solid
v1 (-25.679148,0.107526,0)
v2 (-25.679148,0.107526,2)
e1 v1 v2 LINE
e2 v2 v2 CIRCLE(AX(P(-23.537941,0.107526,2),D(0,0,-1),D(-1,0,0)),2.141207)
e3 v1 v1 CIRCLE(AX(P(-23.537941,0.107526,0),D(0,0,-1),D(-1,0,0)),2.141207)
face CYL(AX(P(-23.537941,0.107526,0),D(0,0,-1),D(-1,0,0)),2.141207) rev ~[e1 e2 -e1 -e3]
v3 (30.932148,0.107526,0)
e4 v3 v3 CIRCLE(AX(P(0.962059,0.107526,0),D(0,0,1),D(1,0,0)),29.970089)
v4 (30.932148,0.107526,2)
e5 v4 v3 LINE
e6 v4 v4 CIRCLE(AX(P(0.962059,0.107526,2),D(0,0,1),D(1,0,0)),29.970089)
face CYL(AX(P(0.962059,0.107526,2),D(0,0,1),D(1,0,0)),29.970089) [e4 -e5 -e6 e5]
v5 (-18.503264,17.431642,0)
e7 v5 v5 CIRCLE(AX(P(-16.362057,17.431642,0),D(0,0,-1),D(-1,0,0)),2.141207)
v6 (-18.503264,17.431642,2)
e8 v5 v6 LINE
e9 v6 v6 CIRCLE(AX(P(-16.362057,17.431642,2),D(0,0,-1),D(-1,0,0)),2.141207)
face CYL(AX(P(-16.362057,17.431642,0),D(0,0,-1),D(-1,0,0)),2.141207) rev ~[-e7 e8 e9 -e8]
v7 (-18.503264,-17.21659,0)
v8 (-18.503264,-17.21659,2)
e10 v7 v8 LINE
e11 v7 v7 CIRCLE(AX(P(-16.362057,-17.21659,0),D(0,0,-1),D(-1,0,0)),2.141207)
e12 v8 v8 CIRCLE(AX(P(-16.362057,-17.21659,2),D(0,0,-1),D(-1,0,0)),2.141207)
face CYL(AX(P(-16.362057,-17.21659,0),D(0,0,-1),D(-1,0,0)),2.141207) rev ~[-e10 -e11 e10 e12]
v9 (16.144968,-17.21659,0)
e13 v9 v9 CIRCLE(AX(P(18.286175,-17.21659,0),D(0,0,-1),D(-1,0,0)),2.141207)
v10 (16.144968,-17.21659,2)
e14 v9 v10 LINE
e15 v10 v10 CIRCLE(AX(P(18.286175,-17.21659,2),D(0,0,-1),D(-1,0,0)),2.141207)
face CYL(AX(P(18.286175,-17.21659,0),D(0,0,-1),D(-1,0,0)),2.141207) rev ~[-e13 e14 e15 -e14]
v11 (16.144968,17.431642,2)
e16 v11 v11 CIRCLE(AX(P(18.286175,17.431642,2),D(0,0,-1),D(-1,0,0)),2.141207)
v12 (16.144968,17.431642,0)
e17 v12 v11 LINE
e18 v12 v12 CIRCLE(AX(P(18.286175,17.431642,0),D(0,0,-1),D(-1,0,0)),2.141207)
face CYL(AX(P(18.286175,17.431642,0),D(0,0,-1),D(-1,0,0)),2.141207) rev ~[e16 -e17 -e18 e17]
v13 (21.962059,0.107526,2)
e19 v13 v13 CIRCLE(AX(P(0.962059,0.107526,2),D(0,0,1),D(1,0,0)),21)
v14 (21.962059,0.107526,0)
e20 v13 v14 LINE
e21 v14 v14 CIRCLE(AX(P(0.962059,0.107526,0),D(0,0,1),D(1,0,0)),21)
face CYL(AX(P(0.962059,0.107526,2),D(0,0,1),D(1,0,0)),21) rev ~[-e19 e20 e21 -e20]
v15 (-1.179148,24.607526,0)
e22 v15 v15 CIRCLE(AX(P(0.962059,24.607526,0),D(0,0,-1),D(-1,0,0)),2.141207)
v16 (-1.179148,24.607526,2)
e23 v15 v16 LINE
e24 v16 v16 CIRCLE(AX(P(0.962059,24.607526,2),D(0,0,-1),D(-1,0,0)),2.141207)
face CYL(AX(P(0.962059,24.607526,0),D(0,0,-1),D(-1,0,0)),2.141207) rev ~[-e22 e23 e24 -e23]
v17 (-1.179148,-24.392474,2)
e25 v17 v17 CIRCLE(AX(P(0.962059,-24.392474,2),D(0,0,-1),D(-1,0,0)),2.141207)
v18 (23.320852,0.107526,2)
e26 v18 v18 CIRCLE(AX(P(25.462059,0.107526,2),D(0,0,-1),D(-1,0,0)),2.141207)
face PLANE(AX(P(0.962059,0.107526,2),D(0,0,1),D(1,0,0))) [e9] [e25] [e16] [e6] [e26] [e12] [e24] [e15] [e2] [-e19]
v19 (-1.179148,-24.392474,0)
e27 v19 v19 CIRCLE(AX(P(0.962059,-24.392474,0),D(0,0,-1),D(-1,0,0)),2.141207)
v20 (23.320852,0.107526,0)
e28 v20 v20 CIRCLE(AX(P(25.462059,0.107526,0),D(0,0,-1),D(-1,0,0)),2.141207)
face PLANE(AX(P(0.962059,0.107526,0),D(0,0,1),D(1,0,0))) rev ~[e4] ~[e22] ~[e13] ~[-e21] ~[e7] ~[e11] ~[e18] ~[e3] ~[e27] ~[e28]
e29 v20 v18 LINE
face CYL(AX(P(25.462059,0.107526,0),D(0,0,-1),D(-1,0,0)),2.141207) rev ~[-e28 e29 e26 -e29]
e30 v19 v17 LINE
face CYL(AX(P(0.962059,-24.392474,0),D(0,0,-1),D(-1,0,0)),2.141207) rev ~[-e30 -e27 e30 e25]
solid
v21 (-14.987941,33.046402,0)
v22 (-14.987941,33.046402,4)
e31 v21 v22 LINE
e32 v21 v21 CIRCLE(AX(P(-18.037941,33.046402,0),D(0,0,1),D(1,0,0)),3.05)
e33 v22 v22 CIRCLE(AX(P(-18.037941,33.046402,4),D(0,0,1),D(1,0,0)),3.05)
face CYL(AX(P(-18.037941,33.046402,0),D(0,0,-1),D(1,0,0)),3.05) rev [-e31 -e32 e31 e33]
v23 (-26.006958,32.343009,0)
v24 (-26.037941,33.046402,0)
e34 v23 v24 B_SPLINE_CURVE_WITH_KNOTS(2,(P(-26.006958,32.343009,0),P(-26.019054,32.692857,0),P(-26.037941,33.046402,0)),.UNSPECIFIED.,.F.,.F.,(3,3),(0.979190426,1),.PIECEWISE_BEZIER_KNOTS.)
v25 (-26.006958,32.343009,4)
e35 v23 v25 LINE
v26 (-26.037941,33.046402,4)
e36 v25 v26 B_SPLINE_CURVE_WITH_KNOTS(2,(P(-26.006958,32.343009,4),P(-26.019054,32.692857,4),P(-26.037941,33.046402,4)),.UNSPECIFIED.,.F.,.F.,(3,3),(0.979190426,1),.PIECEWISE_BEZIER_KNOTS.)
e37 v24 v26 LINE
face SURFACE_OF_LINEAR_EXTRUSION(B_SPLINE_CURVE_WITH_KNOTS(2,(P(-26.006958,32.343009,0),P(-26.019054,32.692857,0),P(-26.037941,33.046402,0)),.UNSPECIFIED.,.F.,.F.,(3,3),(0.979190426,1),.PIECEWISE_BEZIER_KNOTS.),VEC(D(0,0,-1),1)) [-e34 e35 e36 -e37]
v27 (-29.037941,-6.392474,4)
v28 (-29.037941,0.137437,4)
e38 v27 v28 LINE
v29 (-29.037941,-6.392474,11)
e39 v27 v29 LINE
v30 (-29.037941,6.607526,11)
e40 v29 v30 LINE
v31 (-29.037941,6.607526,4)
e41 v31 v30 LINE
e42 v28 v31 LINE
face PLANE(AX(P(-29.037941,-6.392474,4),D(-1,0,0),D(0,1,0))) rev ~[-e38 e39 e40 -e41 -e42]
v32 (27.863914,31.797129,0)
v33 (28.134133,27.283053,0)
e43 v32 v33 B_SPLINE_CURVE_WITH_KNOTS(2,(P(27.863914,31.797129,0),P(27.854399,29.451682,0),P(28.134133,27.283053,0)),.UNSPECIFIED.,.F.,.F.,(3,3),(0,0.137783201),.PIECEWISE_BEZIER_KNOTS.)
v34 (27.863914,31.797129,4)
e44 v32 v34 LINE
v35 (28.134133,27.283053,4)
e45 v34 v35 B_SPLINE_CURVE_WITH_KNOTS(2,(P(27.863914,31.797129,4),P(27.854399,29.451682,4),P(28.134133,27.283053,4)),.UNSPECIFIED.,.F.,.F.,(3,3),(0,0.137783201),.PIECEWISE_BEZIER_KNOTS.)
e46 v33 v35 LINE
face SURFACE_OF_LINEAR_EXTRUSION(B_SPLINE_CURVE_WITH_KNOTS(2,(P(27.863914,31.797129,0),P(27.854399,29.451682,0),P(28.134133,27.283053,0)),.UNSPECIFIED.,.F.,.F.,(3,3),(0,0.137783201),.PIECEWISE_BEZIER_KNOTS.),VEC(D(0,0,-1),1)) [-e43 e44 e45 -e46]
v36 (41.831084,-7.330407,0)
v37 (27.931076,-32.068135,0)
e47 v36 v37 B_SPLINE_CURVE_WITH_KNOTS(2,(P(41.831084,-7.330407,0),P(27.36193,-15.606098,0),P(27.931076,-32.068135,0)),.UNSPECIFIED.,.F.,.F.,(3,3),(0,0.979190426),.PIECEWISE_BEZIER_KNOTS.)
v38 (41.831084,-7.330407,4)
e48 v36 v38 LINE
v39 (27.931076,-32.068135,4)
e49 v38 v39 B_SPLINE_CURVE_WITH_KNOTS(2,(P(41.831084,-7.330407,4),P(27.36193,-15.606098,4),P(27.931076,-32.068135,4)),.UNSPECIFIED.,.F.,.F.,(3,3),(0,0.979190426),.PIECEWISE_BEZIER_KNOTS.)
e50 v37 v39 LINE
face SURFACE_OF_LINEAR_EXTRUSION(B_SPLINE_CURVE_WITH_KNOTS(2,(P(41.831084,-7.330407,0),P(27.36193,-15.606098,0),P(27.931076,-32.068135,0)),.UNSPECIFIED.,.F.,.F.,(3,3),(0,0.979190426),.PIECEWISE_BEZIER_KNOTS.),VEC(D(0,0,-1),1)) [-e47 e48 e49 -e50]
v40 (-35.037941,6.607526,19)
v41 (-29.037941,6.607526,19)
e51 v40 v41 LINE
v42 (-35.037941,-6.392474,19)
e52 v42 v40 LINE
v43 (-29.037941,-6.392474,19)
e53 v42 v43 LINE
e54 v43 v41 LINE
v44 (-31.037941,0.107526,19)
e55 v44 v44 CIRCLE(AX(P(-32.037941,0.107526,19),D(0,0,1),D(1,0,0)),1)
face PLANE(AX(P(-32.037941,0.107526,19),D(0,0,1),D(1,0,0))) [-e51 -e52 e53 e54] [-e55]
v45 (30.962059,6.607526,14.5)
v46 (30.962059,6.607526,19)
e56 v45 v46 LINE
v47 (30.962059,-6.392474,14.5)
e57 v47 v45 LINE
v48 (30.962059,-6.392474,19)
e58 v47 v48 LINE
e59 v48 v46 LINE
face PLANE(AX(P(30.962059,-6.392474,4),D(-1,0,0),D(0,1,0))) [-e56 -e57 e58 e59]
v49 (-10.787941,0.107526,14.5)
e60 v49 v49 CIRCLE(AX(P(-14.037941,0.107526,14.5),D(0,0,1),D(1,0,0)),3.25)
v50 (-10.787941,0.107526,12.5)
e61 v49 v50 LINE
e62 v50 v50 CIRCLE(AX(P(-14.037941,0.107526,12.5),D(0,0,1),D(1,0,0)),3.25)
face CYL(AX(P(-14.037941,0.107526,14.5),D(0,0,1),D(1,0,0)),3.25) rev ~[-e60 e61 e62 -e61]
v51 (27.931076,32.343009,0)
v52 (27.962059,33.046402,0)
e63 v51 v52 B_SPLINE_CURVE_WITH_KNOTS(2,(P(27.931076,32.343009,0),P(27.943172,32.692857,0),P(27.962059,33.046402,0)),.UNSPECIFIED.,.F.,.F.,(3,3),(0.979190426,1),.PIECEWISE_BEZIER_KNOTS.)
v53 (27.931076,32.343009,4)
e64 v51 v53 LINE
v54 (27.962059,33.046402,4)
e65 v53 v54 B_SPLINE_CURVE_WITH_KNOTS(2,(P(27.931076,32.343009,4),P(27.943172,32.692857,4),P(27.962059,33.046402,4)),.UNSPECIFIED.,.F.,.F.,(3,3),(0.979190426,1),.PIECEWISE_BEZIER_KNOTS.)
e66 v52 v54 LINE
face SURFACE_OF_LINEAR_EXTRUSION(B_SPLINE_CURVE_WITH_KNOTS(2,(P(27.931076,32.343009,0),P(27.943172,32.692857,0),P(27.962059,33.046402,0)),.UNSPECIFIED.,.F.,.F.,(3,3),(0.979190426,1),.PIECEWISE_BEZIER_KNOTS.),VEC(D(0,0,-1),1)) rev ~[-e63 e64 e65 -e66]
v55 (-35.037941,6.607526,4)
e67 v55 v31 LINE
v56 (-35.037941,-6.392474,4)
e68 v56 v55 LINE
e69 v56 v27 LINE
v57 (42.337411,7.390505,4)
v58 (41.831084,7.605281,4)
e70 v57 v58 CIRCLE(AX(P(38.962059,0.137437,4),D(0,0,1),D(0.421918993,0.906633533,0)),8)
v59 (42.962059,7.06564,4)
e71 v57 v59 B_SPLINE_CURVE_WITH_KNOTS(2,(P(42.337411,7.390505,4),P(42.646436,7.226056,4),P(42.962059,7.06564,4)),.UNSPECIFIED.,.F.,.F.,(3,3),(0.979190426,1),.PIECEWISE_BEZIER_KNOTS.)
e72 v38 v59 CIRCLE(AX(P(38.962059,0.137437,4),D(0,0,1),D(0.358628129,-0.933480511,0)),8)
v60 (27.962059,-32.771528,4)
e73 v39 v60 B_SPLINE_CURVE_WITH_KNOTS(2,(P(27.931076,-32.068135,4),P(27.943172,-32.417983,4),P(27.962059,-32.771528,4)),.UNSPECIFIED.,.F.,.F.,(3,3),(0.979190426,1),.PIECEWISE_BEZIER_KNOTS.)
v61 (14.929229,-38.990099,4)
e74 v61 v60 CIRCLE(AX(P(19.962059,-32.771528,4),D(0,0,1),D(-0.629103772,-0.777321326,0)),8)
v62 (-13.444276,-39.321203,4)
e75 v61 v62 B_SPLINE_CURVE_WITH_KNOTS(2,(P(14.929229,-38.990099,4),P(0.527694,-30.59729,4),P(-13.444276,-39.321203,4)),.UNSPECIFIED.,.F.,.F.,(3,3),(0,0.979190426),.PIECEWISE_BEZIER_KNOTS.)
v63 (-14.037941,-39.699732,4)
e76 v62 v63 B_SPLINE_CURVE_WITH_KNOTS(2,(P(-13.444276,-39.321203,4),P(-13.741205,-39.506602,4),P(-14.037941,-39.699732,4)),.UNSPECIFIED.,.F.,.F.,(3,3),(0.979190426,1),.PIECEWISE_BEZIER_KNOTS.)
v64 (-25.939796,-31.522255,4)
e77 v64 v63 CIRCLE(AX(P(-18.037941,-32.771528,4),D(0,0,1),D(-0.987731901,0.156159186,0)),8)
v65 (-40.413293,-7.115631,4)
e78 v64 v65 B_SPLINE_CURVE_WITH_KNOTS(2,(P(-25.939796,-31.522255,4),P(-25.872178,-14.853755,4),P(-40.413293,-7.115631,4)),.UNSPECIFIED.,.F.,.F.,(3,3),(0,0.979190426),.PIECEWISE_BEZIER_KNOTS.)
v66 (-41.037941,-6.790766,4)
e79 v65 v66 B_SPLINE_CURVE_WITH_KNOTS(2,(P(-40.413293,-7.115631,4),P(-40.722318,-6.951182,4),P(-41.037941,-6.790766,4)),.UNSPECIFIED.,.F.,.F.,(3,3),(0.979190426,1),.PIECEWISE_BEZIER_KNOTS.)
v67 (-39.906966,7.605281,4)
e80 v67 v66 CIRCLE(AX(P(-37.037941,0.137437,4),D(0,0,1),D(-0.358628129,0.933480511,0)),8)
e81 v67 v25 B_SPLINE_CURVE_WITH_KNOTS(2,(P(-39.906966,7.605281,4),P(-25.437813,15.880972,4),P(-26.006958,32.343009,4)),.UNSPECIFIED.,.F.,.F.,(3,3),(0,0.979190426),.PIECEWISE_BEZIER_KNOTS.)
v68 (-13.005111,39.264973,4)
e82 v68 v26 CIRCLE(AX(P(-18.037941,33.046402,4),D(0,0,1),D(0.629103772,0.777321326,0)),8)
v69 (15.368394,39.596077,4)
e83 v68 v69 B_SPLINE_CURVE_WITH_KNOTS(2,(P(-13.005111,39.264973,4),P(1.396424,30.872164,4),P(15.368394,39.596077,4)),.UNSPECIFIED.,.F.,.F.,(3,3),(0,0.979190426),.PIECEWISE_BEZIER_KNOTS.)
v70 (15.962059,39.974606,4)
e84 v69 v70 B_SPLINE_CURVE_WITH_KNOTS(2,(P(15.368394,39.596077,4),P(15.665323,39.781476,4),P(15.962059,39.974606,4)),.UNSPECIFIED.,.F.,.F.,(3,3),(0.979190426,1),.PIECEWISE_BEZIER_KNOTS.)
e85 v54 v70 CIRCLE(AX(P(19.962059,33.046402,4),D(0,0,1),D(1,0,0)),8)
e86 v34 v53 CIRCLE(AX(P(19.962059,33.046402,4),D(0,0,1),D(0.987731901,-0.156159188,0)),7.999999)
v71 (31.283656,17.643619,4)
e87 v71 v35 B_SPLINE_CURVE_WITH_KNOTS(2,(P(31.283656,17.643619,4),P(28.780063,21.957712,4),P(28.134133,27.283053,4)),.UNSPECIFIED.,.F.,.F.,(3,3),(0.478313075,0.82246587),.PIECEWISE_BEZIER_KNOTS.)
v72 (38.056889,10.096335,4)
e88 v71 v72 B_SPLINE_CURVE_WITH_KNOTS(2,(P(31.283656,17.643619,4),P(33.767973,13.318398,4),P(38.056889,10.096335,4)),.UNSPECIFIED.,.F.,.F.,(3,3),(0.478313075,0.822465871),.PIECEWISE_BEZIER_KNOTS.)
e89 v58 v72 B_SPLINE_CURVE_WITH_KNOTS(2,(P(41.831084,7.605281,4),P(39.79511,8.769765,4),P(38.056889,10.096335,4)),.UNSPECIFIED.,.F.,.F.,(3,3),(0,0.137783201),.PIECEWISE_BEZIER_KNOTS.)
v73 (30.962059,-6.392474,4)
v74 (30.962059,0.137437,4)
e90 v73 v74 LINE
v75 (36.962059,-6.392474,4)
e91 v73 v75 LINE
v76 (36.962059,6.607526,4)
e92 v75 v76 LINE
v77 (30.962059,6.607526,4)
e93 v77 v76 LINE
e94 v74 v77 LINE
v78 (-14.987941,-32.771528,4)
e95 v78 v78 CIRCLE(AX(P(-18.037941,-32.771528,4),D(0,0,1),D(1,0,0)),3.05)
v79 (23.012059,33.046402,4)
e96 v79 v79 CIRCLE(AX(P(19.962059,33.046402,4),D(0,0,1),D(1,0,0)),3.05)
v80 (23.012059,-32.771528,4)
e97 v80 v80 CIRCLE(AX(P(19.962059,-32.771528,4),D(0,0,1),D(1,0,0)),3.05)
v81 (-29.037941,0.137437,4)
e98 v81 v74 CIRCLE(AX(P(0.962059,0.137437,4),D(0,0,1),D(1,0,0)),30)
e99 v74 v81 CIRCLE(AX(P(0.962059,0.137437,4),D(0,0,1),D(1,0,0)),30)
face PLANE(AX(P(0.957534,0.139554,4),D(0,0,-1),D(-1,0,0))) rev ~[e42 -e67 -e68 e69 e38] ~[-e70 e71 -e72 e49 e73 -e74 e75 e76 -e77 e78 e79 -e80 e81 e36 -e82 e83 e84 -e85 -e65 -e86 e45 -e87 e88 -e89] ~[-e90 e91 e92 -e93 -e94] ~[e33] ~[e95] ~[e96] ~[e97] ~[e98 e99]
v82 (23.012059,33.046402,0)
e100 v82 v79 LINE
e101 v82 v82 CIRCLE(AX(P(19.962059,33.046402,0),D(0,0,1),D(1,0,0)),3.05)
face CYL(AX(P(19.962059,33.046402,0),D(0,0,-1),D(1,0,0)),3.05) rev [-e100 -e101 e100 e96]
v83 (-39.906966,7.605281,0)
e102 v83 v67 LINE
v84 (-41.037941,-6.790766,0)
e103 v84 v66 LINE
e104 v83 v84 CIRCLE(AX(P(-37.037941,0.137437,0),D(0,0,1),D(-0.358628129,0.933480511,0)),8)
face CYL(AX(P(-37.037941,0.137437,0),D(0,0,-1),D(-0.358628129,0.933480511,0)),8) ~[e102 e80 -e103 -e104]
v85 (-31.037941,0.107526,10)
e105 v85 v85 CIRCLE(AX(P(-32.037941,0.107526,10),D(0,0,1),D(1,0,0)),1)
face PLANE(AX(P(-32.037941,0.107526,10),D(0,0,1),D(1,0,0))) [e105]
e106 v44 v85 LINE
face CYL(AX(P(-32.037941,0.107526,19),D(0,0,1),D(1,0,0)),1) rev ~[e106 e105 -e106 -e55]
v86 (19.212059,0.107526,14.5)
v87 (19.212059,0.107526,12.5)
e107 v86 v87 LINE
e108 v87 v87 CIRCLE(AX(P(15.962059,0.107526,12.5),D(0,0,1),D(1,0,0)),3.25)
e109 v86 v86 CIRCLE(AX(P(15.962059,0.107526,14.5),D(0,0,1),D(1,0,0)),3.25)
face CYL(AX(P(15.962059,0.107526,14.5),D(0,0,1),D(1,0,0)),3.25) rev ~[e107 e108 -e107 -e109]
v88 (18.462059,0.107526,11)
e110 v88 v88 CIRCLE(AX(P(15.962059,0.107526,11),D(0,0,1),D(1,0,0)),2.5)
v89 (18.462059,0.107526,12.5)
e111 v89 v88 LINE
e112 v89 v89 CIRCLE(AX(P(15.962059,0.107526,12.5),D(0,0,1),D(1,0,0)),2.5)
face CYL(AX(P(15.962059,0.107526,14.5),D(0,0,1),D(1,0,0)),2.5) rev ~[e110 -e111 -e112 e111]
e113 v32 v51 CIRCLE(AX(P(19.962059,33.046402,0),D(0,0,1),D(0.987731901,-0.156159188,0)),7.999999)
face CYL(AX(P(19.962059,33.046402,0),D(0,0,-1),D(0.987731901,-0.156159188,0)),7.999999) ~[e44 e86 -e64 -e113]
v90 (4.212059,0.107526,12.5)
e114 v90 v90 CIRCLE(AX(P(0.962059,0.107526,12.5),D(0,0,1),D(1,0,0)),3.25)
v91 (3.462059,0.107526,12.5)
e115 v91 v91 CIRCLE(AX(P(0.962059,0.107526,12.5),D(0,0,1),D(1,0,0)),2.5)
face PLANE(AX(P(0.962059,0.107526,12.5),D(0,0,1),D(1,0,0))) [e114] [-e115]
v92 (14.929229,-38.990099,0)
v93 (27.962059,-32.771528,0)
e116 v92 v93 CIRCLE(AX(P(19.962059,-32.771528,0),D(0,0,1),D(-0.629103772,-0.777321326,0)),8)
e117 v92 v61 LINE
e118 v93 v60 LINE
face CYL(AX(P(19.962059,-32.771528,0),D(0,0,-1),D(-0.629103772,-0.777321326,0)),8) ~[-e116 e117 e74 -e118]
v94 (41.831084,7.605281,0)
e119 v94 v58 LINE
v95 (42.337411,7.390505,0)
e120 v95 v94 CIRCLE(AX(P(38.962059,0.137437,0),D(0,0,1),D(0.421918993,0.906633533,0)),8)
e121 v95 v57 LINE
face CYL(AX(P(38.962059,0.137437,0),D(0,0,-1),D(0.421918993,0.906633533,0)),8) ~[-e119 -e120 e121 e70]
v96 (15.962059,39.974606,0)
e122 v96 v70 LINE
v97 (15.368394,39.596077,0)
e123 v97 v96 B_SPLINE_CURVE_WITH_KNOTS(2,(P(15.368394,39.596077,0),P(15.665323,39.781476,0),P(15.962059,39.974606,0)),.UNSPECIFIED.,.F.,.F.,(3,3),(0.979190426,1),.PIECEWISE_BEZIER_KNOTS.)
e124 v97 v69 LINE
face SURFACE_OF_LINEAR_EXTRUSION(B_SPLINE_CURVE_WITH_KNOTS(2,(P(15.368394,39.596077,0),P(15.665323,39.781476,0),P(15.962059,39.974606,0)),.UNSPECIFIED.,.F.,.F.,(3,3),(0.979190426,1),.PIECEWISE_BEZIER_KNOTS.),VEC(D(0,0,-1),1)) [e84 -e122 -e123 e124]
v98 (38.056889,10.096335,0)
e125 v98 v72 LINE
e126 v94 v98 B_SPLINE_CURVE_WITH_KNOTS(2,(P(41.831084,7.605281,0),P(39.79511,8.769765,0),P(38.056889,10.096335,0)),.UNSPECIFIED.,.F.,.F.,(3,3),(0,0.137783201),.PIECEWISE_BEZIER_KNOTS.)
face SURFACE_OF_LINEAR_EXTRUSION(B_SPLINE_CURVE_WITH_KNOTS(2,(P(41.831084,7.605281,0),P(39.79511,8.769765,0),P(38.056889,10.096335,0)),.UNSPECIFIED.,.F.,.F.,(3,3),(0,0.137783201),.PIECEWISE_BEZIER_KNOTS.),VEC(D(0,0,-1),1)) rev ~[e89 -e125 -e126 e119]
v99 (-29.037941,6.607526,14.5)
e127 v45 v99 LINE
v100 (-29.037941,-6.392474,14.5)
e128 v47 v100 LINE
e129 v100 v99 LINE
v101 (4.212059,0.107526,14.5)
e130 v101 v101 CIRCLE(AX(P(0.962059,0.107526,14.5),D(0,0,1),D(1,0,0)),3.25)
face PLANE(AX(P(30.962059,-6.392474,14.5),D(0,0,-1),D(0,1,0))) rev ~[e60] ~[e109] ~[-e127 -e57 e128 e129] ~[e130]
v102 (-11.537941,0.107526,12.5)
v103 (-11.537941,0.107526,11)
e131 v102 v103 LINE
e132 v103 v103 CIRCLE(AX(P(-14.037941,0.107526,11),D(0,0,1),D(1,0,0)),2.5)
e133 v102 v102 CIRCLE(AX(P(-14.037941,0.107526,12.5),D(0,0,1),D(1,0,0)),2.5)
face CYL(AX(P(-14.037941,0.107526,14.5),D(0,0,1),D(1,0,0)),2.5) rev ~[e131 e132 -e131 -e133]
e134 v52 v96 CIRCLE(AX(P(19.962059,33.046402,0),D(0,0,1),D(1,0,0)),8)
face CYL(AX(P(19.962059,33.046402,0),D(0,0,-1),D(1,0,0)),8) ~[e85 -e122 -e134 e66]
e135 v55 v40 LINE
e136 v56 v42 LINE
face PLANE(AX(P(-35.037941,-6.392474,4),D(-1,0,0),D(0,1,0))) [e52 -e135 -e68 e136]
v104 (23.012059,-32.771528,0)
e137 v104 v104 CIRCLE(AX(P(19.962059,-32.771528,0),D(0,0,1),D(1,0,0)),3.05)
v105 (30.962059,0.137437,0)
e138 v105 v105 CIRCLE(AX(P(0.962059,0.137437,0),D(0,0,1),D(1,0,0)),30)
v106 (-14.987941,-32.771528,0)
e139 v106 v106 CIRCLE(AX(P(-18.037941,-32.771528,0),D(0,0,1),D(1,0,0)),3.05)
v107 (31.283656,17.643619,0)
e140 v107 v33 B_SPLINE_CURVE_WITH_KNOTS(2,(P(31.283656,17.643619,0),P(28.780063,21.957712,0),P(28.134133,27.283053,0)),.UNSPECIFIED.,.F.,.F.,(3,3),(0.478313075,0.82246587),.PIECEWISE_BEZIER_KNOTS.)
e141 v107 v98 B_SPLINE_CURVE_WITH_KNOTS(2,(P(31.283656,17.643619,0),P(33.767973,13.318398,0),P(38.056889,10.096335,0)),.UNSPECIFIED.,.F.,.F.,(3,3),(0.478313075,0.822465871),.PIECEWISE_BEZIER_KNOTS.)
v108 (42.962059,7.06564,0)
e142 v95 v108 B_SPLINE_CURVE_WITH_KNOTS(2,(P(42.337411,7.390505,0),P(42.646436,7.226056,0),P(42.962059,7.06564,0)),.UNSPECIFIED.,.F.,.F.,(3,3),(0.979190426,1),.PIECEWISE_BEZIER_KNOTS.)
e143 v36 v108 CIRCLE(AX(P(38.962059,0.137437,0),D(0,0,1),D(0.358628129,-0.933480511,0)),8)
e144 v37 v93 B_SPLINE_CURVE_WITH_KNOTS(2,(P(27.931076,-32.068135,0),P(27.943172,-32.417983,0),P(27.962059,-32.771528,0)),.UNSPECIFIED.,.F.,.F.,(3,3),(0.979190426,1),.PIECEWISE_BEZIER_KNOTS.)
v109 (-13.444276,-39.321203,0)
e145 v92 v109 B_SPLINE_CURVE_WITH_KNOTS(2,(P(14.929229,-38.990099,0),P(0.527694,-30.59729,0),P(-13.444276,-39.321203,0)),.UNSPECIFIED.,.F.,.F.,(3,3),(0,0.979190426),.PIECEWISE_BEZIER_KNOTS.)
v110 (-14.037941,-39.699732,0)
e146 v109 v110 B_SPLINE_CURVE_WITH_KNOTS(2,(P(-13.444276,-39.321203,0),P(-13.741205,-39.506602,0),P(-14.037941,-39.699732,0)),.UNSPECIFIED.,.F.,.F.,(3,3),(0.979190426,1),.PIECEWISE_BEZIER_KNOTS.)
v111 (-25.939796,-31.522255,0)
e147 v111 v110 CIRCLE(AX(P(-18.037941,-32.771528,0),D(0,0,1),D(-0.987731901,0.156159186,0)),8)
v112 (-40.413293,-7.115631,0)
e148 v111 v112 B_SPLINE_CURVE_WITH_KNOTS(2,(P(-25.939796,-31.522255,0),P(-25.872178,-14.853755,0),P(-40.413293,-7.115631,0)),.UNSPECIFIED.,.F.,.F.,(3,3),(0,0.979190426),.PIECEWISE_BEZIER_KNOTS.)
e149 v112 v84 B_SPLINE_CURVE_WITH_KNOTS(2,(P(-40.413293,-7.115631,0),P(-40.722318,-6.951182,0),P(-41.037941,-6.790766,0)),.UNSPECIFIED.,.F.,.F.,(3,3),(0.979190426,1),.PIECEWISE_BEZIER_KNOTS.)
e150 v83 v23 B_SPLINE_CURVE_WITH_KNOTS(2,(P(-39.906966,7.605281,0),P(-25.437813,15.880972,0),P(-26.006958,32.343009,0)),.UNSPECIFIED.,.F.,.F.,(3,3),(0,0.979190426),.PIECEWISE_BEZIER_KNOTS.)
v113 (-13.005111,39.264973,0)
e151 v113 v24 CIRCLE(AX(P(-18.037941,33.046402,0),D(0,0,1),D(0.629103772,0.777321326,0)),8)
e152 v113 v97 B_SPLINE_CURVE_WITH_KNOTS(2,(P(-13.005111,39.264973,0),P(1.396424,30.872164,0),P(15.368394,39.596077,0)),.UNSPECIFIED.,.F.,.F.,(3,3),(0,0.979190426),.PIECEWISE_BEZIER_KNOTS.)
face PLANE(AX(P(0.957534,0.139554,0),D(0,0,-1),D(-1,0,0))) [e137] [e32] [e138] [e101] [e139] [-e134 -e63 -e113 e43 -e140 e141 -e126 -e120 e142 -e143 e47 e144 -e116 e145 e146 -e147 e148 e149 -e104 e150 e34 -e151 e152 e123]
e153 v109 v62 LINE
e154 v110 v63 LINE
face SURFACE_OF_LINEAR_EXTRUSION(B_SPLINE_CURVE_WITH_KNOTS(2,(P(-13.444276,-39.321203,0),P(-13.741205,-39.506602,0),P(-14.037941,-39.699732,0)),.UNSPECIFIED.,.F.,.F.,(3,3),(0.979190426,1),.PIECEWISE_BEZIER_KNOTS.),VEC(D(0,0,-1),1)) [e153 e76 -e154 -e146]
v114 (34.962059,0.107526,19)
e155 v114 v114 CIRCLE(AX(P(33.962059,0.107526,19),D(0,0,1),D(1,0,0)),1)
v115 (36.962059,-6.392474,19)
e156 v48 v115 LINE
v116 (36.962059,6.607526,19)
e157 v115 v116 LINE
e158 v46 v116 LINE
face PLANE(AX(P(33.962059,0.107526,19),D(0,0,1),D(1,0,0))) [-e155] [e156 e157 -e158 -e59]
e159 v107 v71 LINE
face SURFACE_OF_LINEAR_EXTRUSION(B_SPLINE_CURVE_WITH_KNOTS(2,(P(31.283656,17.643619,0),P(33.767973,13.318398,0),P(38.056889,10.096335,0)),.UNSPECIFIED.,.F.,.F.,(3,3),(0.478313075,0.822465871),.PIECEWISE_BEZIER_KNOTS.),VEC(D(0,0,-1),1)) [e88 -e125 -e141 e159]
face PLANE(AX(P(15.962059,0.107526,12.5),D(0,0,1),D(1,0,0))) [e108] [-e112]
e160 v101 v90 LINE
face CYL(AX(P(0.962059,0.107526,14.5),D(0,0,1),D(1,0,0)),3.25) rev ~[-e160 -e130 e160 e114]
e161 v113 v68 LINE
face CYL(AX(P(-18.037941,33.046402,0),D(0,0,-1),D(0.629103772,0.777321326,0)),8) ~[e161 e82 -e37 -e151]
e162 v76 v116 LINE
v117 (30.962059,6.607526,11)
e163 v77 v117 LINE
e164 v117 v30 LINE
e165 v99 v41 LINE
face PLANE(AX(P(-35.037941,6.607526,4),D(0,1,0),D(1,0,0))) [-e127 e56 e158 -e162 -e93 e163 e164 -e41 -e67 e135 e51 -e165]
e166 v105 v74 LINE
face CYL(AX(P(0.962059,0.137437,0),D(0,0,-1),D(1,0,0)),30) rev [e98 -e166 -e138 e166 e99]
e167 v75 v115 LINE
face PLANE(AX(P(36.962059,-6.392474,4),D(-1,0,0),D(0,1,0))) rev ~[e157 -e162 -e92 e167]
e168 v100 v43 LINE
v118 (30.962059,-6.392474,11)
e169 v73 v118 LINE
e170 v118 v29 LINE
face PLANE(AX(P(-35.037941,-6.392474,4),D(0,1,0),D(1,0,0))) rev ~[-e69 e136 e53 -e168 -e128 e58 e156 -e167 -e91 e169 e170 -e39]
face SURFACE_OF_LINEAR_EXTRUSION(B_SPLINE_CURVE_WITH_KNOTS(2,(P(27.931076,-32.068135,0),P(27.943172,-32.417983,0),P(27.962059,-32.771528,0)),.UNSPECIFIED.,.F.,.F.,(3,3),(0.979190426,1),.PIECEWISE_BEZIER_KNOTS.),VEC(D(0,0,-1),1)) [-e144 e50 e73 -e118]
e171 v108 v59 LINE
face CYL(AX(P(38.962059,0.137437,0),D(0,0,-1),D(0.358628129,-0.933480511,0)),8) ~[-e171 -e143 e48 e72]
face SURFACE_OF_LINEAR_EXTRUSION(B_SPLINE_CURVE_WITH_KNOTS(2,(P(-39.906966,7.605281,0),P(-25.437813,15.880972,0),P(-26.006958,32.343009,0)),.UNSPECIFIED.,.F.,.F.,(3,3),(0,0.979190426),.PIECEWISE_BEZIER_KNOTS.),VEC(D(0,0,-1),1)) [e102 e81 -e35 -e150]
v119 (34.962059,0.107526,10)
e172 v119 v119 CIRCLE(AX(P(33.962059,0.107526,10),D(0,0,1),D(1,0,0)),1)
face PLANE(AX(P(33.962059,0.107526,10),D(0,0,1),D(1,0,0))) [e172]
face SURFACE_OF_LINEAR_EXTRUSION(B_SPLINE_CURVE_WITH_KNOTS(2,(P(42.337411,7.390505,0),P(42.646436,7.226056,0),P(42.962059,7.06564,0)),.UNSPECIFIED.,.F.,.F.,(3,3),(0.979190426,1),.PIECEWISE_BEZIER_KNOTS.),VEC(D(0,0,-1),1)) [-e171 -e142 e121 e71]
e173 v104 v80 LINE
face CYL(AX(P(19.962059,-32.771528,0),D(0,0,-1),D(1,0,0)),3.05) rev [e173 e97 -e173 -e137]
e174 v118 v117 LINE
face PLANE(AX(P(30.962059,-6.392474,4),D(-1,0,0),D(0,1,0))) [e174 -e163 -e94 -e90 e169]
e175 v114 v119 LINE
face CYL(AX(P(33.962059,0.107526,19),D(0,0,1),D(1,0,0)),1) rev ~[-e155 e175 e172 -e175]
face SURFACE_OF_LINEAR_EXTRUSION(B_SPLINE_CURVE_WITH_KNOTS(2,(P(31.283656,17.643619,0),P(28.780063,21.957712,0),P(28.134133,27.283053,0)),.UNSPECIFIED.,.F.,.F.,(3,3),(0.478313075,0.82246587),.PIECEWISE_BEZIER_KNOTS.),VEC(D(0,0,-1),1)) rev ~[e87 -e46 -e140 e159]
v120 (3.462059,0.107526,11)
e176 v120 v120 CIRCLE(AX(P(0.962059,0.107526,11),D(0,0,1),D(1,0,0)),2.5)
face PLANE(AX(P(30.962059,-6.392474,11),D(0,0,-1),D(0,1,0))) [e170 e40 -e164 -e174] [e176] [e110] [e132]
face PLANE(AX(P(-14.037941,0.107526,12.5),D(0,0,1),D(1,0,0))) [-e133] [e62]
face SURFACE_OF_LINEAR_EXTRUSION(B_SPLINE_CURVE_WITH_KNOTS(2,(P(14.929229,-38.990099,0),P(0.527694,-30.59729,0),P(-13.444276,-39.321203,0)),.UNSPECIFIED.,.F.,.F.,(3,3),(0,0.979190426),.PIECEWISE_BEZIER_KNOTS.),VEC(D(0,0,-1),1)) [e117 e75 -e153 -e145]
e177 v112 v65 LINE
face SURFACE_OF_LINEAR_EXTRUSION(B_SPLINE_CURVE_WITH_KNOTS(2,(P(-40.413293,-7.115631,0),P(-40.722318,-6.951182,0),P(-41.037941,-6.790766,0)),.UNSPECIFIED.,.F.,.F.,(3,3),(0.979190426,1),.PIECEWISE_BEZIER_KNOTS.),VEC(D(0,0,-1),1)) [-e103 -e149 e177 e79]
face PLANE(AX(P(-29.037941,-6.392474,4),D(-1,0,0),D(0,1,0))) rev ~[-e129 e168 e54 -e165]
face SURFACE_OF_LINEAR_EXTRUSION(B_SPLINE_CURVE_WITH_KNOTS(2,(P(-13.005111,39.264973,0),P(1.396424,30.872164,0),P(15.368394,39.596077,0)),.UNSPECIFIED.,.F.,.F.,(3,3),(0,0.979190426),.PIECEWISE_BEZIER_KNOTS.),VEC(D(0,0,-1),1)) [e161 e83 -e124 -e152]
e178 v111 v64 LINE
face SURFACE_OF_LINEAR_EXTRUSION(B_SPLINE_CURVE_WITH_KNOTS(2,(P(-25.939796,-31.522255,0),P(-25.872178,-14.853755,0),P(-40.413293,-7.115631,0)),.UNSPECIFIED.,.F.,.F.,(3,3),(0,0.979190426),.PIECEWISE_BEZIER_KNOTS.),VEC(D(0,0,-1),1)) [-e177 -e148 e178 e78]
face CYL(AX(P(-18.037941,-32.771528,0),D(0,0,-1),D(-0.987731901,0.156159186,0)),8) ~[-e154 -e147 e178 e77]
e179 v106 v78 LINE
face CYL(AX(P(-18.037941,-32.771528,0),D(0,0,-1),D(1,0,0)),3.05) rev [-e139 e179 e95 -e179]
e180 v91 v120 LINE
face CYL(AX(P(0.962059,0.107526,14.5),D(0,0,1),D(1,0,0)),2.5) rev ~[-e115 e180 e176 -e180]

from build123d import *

# Parameters (mm, degrees)
SKETCH1_R           = 3.05
SKETCH1_R_2         = 30
BOSS_EXTRUDE1_DEPTH = 4
SKETCH2_W           = 6
SKETCH2_H           = 13
BOSS_EXTRUDE3_DEPTH = 15
SKETCH3_W           = 3.5
SKETCH3_H           = 13
BOSS_EXTRUDE4_DEPTH = 60
SKETCH4_R           = 2.5
CUT_EXTRUDE2_DEPTH  = 15.5000001
SKETCH5_R           = 3.25
CUT_EXTRUDE3_DEPTH  = 2
BOSS_EXTRUDE6_START = -2
SKETCH6_R           = 29.970088814
SKETCH6_R_2         = 21
BOSS_EXTRUDE6_DEPTH = 2
SKETCH7_R           = 2.141207247
CUT_EXTRUDE4_DEPTH  = 2
SKETCH9_R           = 1
CUT_EXTRUDE5_DEPTH  = 9


with BuildPart() as part:
    # Sketch1 → Boss-Extrude1 (new body)
    with BuildSketch(Plane.XY):
        with BuildLine():
            add(Edge.make_bspline(
                [(41.831083973, -7.3304071), (27.361930458, -15.606097707), (27.931076287, -32.06813474)],
                knots=[0, 0, 0, 0.979190426, 0.979190426, 0.979190426], degree=2))
            ThreePointArc((41.831083973, -7.3304071), (46.937485003, -0.489124386), (42.962058943, 7.065640222))
            add(Edge.make_bspline(
                [(42.337410878, 7.390505261), (42.646435969, 7.226056086), (42.962058943, 7.065640222)],
                knots=[0.979190426, 0.979190426, 0.979190426, 1, 1, 1], degree=2))
            ThreePointArc((42.337410878, 7.390505261), (42.086093687, 7.502245674), (41.831083973, 7.605281084))
            add(Edge.make_bspline(
                [(41.831083973, 7.605281084), (39.79510994, 8.769764629), (38.056889456, 10.096335232)],
                knots=[0, 0, 0, 0.137783201, 0.137783201, 0.137783201], degree=2))
            add(Edge.make_bspline(
                [(31.283656242, 17.643619355), (33.76797305, 13.318397895), (38.056889456, 10.096335232)],
                knots=[0.478313075, 0.478313075, 0.478313075, 0.822465871, 0.822465871, 0.822465871], degree=2))
            add(Edge.make_bspline(
                [(31.283656242, 17.643619355), (28.780062988, 21.957711547), (28.13413307, 27.283053433)],
                knots=[0.478313075, 0.478313075, 0.478313075, 0.82246587, 0.82246587, 0.82246587], degree=2))
            add(Edge.make_bspline(
                [(27.863914153, 31.79712885), (27.854399469, 29.451681837), (28.13413307, 27.283053433)],
                knots=[0, 0, 0, 0.137783201, 0.137783201, 0.137783201], degree=2))
            ThreePointArc((27.863914153, 31.79712885), (27.902187728, 32.069491448), (27.931076287, 32.343008727))
            add(Edge.make_bspline(
                [(27.931076287, 32.343008727), (27.943171669, 32.692856892), (27.962058943, 33.046402336)],
                knots=[0.979190426, 0.979190426, 0.979190426, 1, 1, 1], degree=2))
            ThreePointArc((27.962058943, 33.046402336), (23.962058943, 39.974605566), (15.962058943, 39.974605566))
            add(Edge.make_bspline(
                [(15.368393534, 39.596076993), (15.665323243, 39.781475984), (15.962058943, 39.974605566)],
                knots=[0.979190426, 0.979190426, 0.979190426, 1, 1, 1], degree=2))
            add(Edge.make_bspline(
                [(-13.005110877, 39.264972942), (1.39642418, 30.87216373), (15.368393534, 39.596076993)],
                knots=[0, 0, 0, 0.979190426, 0.979190426, 0.979190426], degree=2))
            ThreePointArc((-13.005110877, 39.264972942), (-21.483036017, 40.266604599), (-26.037941057, 33.046402336))
            add(Edge.make_bspline(
                [(-26.006958401, 32.343008724), (-26.019053783, 32.69285689), (-26.037941057, 33.046402336)],
                knots=[0.979190426, 0.979190426, 0.979190426, 1, 1, 1], degree=2))
            add(Edge.make_bspline(
                [(-39.906966087, 7.605281083), (-25.437812572, 15.880971691), (-26.006958401, 32.343008724)],
                knots=[0, 0, 0, 0.979190426, 0.979190426, 0.979190426], degree=2))
            ThreePointArc((-39.906966087, 7.605281083), (-45.013367117, 0.76399837), (-41.037941057, -6.790766239))
            add(Edge.make_bspline(
                [(-40.413292992, -7.115631277), (-40.722318083, -6.951182102), (-41.037941057, -6.790766238)],
                knots=[0.979190426, 0.979190426, 0.979190426, 1, 1, 1], degree=2))
            add(Edge.make_bspline(
                [(-25.939796267, -31.522254866), (-25.872177809, -14.853755047), (-40.413292992, -7.115631277)],
                knots=[0, 0, 0, 0.979190426, 0.979190426, 0.979190426], degree=2))
            ThreePointArc((-25.939796267, -31.522254866), (-22.568272157, -39.365169237), (-14.037941057, -39.699731582))
            add(Edge.make_bspline(
                [(-13.444275648, -39.321203009), (-13.741205357, -39.506602), (-14.037941057, -39.699731582)],
                knots=[0.979190426, 0.979190426, 0.979190426, 1, 1, 1], degree=2))
            add(Edge.make_bspline(
                [(14.929228763, -38.990098958), (0.527693706, -30.597289746), (-13.444275648, -39.321203009)],
                knots=[0, 0, 0, 0.979190426, 0.979190426, 0.979190426], degree=2))
            ThreePointArc((14.929228763, -38.990098958), (23.407153903, -39.991730615), (27.962058943, -32.771528352))
            add(Edge.make_bspline(
                [(27.931076287, -32.06813474), (27.943171669, -32.417982907), (27.962058943, -32.771528352)],
                knots=[0.979190426, 0.979190426, 0.979190426, 1, 1, 1], degree=2))
        make_face()
        with Locations((-18.037941057, -32.771528352)):
            Circle(SKETCH1_R, mode=Mode.SUBTRACT)
        with Locations((0.962058943, 0.137436992)):
            Circle(SKETCH1_R_2, mode=Mode.SUBTRACT)
        with Locations((19.962058943, -32.771528352)):
            Circle(SKETCH1_R, mode=Mode.SUBTRACT)
        with Locations((-37.037941057, 0.137436992)):
            Circle(SKETCH1_R, mode=Mode.SUBTRACT)
        with Locations((-18.037941057, 33.046402336)):
            Circle(SKETCH1_R, mode=Mode.SUBTRACT)
        with Locations((38.962058943, 0.137436992)):
            Circle(SKETCH1_R, mode=Mode.SUBTRACT)
        with Locations((19.962058943, 33.046402336)):
            Circle(SKETCH1_R, mode=Mode.SUBTRACT)
        with Locations((-37.037941057, 0.137436992)):
            Circle(SKETCH1_R)
        with Locations((38.962058943, 0.137436992)):
            Circle(SKETCH1_R)
    extrude(amount=BOSS_EXTRUDE1_DEPTH)

    # Sketch2 → Boss-Extrude3 (add)
    with BuildSketch(Plane.XY.offset(4)):
        with Locations((-32.037941057, 0.107525805)):
            Rectangle(SKETCH2_W, SKETCH2_H)
        with Locations((33.962058943, 0.107525805)):
            Rectangle(SKETCH2_W, SKETCH2_H)
    extrude(amount=BOSS_EXTRUDE3_DEPTH)

    # Sketch3 → Boss-Extrude4 (add)
    with BuildSketch(Plane.ZY.offset(-30.962058943)):
        with Locations((12.75, 0.107525805)):
            Rectangle(SKETCH3_W, SKETCH3_H)
    extrude(amount=BOSS_EXTRUDE4_DEPTH)

    # Sketch4 → Cut-Extrude2 (cut, through all)
    with BuildSketch(Plane.XY.offset(14.5)):
        with Locations((-14.037941057, 0.107525805)):
            Circle(SKETCH4_R)
        with Locations((0.962058943, 0.107525805)):
            Circle(SKETCH4_R)
        with Locations((15.962058943, 0.107525805)):
            Circle(SKETCH4_R)
    extrude(amount=-CUT_EXTRUDE2_DEPTH, mode=Mode.SUBTRACT)

    # Sketch5 → Cut-Extrude3 (cut)
    with BuildSketch(Plane.XY.offset(14.5)):
        with Locations((-14.037941057, 0.107525805)):
            Circle(SKETCH5_R)
        with Locations((0.962058943, 0.107525805)):
            Circle(SKETCH5_R)
        with Locations((15.962058943, 0.107525805)):
            Circle(SKETCH5_R)
    extrude(amount=-CUT_EXTRUDE3_DEPTH, mode=Mode.SUBTRACT)

    # Sketch9 → Cut-Extrude5 (cut)
    with BuildSketch(Plane.XY.offset(19)):
        with Locations((33.962058943, 0.107525805)):
            Circle(SKETCH9_R)
        with Locations((-32.037941057, 0.107525805)):
            Circle(SKETCH9_R)
    extrude(amount=-CUT_EXTRUDE5_DEPTH, mode=Mode.SUBTRACT)


with BuildPart() as body_2:
    # Sketch6 → Boss-Extrude6 (new body)
    with BuildSketch(Plane.XY.offset(4).offset(BOSS_EXTRUDE6_START)):
        with Locations((0.962058943, 0.107525805)):
            Circle(SKETCH6_R)
        with Locations((0.962058943, 0.107525805)):
            Circle(SKETCH6_R_2, mode=Mode.SUBTRACT)
    extrude(amount=-BOSS_EXTRUDE6_DEPTH)

    # Sketch7 → Cut-Extrude4 (cut)
    with BuildSketch(Plane(origin=(0, 0, 0), x_dir=(-1, 0, 0), z_dir=(0, 0, -1))):
        with Locations((-0.962058943, 24.607525805)):
            Circle(SKETCH7_R)
        with Locations((16.362057196, 17.431641944)):
            Circle(SKETCH7_R)
        with Locations((23.537941057, 0.107525805)):
            Circle(SKETCH7_R)
        with Locations((16.362057196, -17.216590334)):
            Circle(SKETCH7_R)
        with Locations((-0.962058943, -24.392474195)):
            Circle(SKETCH7_R)
        with Locations((-18.286175082, -17.216590334)):
            Circle(SKETCH7_R)
        with Locations((-25.462058943, 0.107525805)):
            Circle(SKETCH7_R)
        with Locations((-18.286175082, 17.431641944)):
            Circle(SKETCH7_R)
    extrude(amount=-CUT_EXTRUDE4_DEPTH, mode=Mode.SUBTRACT)


solid = Compound([part.part, body_2.part])
